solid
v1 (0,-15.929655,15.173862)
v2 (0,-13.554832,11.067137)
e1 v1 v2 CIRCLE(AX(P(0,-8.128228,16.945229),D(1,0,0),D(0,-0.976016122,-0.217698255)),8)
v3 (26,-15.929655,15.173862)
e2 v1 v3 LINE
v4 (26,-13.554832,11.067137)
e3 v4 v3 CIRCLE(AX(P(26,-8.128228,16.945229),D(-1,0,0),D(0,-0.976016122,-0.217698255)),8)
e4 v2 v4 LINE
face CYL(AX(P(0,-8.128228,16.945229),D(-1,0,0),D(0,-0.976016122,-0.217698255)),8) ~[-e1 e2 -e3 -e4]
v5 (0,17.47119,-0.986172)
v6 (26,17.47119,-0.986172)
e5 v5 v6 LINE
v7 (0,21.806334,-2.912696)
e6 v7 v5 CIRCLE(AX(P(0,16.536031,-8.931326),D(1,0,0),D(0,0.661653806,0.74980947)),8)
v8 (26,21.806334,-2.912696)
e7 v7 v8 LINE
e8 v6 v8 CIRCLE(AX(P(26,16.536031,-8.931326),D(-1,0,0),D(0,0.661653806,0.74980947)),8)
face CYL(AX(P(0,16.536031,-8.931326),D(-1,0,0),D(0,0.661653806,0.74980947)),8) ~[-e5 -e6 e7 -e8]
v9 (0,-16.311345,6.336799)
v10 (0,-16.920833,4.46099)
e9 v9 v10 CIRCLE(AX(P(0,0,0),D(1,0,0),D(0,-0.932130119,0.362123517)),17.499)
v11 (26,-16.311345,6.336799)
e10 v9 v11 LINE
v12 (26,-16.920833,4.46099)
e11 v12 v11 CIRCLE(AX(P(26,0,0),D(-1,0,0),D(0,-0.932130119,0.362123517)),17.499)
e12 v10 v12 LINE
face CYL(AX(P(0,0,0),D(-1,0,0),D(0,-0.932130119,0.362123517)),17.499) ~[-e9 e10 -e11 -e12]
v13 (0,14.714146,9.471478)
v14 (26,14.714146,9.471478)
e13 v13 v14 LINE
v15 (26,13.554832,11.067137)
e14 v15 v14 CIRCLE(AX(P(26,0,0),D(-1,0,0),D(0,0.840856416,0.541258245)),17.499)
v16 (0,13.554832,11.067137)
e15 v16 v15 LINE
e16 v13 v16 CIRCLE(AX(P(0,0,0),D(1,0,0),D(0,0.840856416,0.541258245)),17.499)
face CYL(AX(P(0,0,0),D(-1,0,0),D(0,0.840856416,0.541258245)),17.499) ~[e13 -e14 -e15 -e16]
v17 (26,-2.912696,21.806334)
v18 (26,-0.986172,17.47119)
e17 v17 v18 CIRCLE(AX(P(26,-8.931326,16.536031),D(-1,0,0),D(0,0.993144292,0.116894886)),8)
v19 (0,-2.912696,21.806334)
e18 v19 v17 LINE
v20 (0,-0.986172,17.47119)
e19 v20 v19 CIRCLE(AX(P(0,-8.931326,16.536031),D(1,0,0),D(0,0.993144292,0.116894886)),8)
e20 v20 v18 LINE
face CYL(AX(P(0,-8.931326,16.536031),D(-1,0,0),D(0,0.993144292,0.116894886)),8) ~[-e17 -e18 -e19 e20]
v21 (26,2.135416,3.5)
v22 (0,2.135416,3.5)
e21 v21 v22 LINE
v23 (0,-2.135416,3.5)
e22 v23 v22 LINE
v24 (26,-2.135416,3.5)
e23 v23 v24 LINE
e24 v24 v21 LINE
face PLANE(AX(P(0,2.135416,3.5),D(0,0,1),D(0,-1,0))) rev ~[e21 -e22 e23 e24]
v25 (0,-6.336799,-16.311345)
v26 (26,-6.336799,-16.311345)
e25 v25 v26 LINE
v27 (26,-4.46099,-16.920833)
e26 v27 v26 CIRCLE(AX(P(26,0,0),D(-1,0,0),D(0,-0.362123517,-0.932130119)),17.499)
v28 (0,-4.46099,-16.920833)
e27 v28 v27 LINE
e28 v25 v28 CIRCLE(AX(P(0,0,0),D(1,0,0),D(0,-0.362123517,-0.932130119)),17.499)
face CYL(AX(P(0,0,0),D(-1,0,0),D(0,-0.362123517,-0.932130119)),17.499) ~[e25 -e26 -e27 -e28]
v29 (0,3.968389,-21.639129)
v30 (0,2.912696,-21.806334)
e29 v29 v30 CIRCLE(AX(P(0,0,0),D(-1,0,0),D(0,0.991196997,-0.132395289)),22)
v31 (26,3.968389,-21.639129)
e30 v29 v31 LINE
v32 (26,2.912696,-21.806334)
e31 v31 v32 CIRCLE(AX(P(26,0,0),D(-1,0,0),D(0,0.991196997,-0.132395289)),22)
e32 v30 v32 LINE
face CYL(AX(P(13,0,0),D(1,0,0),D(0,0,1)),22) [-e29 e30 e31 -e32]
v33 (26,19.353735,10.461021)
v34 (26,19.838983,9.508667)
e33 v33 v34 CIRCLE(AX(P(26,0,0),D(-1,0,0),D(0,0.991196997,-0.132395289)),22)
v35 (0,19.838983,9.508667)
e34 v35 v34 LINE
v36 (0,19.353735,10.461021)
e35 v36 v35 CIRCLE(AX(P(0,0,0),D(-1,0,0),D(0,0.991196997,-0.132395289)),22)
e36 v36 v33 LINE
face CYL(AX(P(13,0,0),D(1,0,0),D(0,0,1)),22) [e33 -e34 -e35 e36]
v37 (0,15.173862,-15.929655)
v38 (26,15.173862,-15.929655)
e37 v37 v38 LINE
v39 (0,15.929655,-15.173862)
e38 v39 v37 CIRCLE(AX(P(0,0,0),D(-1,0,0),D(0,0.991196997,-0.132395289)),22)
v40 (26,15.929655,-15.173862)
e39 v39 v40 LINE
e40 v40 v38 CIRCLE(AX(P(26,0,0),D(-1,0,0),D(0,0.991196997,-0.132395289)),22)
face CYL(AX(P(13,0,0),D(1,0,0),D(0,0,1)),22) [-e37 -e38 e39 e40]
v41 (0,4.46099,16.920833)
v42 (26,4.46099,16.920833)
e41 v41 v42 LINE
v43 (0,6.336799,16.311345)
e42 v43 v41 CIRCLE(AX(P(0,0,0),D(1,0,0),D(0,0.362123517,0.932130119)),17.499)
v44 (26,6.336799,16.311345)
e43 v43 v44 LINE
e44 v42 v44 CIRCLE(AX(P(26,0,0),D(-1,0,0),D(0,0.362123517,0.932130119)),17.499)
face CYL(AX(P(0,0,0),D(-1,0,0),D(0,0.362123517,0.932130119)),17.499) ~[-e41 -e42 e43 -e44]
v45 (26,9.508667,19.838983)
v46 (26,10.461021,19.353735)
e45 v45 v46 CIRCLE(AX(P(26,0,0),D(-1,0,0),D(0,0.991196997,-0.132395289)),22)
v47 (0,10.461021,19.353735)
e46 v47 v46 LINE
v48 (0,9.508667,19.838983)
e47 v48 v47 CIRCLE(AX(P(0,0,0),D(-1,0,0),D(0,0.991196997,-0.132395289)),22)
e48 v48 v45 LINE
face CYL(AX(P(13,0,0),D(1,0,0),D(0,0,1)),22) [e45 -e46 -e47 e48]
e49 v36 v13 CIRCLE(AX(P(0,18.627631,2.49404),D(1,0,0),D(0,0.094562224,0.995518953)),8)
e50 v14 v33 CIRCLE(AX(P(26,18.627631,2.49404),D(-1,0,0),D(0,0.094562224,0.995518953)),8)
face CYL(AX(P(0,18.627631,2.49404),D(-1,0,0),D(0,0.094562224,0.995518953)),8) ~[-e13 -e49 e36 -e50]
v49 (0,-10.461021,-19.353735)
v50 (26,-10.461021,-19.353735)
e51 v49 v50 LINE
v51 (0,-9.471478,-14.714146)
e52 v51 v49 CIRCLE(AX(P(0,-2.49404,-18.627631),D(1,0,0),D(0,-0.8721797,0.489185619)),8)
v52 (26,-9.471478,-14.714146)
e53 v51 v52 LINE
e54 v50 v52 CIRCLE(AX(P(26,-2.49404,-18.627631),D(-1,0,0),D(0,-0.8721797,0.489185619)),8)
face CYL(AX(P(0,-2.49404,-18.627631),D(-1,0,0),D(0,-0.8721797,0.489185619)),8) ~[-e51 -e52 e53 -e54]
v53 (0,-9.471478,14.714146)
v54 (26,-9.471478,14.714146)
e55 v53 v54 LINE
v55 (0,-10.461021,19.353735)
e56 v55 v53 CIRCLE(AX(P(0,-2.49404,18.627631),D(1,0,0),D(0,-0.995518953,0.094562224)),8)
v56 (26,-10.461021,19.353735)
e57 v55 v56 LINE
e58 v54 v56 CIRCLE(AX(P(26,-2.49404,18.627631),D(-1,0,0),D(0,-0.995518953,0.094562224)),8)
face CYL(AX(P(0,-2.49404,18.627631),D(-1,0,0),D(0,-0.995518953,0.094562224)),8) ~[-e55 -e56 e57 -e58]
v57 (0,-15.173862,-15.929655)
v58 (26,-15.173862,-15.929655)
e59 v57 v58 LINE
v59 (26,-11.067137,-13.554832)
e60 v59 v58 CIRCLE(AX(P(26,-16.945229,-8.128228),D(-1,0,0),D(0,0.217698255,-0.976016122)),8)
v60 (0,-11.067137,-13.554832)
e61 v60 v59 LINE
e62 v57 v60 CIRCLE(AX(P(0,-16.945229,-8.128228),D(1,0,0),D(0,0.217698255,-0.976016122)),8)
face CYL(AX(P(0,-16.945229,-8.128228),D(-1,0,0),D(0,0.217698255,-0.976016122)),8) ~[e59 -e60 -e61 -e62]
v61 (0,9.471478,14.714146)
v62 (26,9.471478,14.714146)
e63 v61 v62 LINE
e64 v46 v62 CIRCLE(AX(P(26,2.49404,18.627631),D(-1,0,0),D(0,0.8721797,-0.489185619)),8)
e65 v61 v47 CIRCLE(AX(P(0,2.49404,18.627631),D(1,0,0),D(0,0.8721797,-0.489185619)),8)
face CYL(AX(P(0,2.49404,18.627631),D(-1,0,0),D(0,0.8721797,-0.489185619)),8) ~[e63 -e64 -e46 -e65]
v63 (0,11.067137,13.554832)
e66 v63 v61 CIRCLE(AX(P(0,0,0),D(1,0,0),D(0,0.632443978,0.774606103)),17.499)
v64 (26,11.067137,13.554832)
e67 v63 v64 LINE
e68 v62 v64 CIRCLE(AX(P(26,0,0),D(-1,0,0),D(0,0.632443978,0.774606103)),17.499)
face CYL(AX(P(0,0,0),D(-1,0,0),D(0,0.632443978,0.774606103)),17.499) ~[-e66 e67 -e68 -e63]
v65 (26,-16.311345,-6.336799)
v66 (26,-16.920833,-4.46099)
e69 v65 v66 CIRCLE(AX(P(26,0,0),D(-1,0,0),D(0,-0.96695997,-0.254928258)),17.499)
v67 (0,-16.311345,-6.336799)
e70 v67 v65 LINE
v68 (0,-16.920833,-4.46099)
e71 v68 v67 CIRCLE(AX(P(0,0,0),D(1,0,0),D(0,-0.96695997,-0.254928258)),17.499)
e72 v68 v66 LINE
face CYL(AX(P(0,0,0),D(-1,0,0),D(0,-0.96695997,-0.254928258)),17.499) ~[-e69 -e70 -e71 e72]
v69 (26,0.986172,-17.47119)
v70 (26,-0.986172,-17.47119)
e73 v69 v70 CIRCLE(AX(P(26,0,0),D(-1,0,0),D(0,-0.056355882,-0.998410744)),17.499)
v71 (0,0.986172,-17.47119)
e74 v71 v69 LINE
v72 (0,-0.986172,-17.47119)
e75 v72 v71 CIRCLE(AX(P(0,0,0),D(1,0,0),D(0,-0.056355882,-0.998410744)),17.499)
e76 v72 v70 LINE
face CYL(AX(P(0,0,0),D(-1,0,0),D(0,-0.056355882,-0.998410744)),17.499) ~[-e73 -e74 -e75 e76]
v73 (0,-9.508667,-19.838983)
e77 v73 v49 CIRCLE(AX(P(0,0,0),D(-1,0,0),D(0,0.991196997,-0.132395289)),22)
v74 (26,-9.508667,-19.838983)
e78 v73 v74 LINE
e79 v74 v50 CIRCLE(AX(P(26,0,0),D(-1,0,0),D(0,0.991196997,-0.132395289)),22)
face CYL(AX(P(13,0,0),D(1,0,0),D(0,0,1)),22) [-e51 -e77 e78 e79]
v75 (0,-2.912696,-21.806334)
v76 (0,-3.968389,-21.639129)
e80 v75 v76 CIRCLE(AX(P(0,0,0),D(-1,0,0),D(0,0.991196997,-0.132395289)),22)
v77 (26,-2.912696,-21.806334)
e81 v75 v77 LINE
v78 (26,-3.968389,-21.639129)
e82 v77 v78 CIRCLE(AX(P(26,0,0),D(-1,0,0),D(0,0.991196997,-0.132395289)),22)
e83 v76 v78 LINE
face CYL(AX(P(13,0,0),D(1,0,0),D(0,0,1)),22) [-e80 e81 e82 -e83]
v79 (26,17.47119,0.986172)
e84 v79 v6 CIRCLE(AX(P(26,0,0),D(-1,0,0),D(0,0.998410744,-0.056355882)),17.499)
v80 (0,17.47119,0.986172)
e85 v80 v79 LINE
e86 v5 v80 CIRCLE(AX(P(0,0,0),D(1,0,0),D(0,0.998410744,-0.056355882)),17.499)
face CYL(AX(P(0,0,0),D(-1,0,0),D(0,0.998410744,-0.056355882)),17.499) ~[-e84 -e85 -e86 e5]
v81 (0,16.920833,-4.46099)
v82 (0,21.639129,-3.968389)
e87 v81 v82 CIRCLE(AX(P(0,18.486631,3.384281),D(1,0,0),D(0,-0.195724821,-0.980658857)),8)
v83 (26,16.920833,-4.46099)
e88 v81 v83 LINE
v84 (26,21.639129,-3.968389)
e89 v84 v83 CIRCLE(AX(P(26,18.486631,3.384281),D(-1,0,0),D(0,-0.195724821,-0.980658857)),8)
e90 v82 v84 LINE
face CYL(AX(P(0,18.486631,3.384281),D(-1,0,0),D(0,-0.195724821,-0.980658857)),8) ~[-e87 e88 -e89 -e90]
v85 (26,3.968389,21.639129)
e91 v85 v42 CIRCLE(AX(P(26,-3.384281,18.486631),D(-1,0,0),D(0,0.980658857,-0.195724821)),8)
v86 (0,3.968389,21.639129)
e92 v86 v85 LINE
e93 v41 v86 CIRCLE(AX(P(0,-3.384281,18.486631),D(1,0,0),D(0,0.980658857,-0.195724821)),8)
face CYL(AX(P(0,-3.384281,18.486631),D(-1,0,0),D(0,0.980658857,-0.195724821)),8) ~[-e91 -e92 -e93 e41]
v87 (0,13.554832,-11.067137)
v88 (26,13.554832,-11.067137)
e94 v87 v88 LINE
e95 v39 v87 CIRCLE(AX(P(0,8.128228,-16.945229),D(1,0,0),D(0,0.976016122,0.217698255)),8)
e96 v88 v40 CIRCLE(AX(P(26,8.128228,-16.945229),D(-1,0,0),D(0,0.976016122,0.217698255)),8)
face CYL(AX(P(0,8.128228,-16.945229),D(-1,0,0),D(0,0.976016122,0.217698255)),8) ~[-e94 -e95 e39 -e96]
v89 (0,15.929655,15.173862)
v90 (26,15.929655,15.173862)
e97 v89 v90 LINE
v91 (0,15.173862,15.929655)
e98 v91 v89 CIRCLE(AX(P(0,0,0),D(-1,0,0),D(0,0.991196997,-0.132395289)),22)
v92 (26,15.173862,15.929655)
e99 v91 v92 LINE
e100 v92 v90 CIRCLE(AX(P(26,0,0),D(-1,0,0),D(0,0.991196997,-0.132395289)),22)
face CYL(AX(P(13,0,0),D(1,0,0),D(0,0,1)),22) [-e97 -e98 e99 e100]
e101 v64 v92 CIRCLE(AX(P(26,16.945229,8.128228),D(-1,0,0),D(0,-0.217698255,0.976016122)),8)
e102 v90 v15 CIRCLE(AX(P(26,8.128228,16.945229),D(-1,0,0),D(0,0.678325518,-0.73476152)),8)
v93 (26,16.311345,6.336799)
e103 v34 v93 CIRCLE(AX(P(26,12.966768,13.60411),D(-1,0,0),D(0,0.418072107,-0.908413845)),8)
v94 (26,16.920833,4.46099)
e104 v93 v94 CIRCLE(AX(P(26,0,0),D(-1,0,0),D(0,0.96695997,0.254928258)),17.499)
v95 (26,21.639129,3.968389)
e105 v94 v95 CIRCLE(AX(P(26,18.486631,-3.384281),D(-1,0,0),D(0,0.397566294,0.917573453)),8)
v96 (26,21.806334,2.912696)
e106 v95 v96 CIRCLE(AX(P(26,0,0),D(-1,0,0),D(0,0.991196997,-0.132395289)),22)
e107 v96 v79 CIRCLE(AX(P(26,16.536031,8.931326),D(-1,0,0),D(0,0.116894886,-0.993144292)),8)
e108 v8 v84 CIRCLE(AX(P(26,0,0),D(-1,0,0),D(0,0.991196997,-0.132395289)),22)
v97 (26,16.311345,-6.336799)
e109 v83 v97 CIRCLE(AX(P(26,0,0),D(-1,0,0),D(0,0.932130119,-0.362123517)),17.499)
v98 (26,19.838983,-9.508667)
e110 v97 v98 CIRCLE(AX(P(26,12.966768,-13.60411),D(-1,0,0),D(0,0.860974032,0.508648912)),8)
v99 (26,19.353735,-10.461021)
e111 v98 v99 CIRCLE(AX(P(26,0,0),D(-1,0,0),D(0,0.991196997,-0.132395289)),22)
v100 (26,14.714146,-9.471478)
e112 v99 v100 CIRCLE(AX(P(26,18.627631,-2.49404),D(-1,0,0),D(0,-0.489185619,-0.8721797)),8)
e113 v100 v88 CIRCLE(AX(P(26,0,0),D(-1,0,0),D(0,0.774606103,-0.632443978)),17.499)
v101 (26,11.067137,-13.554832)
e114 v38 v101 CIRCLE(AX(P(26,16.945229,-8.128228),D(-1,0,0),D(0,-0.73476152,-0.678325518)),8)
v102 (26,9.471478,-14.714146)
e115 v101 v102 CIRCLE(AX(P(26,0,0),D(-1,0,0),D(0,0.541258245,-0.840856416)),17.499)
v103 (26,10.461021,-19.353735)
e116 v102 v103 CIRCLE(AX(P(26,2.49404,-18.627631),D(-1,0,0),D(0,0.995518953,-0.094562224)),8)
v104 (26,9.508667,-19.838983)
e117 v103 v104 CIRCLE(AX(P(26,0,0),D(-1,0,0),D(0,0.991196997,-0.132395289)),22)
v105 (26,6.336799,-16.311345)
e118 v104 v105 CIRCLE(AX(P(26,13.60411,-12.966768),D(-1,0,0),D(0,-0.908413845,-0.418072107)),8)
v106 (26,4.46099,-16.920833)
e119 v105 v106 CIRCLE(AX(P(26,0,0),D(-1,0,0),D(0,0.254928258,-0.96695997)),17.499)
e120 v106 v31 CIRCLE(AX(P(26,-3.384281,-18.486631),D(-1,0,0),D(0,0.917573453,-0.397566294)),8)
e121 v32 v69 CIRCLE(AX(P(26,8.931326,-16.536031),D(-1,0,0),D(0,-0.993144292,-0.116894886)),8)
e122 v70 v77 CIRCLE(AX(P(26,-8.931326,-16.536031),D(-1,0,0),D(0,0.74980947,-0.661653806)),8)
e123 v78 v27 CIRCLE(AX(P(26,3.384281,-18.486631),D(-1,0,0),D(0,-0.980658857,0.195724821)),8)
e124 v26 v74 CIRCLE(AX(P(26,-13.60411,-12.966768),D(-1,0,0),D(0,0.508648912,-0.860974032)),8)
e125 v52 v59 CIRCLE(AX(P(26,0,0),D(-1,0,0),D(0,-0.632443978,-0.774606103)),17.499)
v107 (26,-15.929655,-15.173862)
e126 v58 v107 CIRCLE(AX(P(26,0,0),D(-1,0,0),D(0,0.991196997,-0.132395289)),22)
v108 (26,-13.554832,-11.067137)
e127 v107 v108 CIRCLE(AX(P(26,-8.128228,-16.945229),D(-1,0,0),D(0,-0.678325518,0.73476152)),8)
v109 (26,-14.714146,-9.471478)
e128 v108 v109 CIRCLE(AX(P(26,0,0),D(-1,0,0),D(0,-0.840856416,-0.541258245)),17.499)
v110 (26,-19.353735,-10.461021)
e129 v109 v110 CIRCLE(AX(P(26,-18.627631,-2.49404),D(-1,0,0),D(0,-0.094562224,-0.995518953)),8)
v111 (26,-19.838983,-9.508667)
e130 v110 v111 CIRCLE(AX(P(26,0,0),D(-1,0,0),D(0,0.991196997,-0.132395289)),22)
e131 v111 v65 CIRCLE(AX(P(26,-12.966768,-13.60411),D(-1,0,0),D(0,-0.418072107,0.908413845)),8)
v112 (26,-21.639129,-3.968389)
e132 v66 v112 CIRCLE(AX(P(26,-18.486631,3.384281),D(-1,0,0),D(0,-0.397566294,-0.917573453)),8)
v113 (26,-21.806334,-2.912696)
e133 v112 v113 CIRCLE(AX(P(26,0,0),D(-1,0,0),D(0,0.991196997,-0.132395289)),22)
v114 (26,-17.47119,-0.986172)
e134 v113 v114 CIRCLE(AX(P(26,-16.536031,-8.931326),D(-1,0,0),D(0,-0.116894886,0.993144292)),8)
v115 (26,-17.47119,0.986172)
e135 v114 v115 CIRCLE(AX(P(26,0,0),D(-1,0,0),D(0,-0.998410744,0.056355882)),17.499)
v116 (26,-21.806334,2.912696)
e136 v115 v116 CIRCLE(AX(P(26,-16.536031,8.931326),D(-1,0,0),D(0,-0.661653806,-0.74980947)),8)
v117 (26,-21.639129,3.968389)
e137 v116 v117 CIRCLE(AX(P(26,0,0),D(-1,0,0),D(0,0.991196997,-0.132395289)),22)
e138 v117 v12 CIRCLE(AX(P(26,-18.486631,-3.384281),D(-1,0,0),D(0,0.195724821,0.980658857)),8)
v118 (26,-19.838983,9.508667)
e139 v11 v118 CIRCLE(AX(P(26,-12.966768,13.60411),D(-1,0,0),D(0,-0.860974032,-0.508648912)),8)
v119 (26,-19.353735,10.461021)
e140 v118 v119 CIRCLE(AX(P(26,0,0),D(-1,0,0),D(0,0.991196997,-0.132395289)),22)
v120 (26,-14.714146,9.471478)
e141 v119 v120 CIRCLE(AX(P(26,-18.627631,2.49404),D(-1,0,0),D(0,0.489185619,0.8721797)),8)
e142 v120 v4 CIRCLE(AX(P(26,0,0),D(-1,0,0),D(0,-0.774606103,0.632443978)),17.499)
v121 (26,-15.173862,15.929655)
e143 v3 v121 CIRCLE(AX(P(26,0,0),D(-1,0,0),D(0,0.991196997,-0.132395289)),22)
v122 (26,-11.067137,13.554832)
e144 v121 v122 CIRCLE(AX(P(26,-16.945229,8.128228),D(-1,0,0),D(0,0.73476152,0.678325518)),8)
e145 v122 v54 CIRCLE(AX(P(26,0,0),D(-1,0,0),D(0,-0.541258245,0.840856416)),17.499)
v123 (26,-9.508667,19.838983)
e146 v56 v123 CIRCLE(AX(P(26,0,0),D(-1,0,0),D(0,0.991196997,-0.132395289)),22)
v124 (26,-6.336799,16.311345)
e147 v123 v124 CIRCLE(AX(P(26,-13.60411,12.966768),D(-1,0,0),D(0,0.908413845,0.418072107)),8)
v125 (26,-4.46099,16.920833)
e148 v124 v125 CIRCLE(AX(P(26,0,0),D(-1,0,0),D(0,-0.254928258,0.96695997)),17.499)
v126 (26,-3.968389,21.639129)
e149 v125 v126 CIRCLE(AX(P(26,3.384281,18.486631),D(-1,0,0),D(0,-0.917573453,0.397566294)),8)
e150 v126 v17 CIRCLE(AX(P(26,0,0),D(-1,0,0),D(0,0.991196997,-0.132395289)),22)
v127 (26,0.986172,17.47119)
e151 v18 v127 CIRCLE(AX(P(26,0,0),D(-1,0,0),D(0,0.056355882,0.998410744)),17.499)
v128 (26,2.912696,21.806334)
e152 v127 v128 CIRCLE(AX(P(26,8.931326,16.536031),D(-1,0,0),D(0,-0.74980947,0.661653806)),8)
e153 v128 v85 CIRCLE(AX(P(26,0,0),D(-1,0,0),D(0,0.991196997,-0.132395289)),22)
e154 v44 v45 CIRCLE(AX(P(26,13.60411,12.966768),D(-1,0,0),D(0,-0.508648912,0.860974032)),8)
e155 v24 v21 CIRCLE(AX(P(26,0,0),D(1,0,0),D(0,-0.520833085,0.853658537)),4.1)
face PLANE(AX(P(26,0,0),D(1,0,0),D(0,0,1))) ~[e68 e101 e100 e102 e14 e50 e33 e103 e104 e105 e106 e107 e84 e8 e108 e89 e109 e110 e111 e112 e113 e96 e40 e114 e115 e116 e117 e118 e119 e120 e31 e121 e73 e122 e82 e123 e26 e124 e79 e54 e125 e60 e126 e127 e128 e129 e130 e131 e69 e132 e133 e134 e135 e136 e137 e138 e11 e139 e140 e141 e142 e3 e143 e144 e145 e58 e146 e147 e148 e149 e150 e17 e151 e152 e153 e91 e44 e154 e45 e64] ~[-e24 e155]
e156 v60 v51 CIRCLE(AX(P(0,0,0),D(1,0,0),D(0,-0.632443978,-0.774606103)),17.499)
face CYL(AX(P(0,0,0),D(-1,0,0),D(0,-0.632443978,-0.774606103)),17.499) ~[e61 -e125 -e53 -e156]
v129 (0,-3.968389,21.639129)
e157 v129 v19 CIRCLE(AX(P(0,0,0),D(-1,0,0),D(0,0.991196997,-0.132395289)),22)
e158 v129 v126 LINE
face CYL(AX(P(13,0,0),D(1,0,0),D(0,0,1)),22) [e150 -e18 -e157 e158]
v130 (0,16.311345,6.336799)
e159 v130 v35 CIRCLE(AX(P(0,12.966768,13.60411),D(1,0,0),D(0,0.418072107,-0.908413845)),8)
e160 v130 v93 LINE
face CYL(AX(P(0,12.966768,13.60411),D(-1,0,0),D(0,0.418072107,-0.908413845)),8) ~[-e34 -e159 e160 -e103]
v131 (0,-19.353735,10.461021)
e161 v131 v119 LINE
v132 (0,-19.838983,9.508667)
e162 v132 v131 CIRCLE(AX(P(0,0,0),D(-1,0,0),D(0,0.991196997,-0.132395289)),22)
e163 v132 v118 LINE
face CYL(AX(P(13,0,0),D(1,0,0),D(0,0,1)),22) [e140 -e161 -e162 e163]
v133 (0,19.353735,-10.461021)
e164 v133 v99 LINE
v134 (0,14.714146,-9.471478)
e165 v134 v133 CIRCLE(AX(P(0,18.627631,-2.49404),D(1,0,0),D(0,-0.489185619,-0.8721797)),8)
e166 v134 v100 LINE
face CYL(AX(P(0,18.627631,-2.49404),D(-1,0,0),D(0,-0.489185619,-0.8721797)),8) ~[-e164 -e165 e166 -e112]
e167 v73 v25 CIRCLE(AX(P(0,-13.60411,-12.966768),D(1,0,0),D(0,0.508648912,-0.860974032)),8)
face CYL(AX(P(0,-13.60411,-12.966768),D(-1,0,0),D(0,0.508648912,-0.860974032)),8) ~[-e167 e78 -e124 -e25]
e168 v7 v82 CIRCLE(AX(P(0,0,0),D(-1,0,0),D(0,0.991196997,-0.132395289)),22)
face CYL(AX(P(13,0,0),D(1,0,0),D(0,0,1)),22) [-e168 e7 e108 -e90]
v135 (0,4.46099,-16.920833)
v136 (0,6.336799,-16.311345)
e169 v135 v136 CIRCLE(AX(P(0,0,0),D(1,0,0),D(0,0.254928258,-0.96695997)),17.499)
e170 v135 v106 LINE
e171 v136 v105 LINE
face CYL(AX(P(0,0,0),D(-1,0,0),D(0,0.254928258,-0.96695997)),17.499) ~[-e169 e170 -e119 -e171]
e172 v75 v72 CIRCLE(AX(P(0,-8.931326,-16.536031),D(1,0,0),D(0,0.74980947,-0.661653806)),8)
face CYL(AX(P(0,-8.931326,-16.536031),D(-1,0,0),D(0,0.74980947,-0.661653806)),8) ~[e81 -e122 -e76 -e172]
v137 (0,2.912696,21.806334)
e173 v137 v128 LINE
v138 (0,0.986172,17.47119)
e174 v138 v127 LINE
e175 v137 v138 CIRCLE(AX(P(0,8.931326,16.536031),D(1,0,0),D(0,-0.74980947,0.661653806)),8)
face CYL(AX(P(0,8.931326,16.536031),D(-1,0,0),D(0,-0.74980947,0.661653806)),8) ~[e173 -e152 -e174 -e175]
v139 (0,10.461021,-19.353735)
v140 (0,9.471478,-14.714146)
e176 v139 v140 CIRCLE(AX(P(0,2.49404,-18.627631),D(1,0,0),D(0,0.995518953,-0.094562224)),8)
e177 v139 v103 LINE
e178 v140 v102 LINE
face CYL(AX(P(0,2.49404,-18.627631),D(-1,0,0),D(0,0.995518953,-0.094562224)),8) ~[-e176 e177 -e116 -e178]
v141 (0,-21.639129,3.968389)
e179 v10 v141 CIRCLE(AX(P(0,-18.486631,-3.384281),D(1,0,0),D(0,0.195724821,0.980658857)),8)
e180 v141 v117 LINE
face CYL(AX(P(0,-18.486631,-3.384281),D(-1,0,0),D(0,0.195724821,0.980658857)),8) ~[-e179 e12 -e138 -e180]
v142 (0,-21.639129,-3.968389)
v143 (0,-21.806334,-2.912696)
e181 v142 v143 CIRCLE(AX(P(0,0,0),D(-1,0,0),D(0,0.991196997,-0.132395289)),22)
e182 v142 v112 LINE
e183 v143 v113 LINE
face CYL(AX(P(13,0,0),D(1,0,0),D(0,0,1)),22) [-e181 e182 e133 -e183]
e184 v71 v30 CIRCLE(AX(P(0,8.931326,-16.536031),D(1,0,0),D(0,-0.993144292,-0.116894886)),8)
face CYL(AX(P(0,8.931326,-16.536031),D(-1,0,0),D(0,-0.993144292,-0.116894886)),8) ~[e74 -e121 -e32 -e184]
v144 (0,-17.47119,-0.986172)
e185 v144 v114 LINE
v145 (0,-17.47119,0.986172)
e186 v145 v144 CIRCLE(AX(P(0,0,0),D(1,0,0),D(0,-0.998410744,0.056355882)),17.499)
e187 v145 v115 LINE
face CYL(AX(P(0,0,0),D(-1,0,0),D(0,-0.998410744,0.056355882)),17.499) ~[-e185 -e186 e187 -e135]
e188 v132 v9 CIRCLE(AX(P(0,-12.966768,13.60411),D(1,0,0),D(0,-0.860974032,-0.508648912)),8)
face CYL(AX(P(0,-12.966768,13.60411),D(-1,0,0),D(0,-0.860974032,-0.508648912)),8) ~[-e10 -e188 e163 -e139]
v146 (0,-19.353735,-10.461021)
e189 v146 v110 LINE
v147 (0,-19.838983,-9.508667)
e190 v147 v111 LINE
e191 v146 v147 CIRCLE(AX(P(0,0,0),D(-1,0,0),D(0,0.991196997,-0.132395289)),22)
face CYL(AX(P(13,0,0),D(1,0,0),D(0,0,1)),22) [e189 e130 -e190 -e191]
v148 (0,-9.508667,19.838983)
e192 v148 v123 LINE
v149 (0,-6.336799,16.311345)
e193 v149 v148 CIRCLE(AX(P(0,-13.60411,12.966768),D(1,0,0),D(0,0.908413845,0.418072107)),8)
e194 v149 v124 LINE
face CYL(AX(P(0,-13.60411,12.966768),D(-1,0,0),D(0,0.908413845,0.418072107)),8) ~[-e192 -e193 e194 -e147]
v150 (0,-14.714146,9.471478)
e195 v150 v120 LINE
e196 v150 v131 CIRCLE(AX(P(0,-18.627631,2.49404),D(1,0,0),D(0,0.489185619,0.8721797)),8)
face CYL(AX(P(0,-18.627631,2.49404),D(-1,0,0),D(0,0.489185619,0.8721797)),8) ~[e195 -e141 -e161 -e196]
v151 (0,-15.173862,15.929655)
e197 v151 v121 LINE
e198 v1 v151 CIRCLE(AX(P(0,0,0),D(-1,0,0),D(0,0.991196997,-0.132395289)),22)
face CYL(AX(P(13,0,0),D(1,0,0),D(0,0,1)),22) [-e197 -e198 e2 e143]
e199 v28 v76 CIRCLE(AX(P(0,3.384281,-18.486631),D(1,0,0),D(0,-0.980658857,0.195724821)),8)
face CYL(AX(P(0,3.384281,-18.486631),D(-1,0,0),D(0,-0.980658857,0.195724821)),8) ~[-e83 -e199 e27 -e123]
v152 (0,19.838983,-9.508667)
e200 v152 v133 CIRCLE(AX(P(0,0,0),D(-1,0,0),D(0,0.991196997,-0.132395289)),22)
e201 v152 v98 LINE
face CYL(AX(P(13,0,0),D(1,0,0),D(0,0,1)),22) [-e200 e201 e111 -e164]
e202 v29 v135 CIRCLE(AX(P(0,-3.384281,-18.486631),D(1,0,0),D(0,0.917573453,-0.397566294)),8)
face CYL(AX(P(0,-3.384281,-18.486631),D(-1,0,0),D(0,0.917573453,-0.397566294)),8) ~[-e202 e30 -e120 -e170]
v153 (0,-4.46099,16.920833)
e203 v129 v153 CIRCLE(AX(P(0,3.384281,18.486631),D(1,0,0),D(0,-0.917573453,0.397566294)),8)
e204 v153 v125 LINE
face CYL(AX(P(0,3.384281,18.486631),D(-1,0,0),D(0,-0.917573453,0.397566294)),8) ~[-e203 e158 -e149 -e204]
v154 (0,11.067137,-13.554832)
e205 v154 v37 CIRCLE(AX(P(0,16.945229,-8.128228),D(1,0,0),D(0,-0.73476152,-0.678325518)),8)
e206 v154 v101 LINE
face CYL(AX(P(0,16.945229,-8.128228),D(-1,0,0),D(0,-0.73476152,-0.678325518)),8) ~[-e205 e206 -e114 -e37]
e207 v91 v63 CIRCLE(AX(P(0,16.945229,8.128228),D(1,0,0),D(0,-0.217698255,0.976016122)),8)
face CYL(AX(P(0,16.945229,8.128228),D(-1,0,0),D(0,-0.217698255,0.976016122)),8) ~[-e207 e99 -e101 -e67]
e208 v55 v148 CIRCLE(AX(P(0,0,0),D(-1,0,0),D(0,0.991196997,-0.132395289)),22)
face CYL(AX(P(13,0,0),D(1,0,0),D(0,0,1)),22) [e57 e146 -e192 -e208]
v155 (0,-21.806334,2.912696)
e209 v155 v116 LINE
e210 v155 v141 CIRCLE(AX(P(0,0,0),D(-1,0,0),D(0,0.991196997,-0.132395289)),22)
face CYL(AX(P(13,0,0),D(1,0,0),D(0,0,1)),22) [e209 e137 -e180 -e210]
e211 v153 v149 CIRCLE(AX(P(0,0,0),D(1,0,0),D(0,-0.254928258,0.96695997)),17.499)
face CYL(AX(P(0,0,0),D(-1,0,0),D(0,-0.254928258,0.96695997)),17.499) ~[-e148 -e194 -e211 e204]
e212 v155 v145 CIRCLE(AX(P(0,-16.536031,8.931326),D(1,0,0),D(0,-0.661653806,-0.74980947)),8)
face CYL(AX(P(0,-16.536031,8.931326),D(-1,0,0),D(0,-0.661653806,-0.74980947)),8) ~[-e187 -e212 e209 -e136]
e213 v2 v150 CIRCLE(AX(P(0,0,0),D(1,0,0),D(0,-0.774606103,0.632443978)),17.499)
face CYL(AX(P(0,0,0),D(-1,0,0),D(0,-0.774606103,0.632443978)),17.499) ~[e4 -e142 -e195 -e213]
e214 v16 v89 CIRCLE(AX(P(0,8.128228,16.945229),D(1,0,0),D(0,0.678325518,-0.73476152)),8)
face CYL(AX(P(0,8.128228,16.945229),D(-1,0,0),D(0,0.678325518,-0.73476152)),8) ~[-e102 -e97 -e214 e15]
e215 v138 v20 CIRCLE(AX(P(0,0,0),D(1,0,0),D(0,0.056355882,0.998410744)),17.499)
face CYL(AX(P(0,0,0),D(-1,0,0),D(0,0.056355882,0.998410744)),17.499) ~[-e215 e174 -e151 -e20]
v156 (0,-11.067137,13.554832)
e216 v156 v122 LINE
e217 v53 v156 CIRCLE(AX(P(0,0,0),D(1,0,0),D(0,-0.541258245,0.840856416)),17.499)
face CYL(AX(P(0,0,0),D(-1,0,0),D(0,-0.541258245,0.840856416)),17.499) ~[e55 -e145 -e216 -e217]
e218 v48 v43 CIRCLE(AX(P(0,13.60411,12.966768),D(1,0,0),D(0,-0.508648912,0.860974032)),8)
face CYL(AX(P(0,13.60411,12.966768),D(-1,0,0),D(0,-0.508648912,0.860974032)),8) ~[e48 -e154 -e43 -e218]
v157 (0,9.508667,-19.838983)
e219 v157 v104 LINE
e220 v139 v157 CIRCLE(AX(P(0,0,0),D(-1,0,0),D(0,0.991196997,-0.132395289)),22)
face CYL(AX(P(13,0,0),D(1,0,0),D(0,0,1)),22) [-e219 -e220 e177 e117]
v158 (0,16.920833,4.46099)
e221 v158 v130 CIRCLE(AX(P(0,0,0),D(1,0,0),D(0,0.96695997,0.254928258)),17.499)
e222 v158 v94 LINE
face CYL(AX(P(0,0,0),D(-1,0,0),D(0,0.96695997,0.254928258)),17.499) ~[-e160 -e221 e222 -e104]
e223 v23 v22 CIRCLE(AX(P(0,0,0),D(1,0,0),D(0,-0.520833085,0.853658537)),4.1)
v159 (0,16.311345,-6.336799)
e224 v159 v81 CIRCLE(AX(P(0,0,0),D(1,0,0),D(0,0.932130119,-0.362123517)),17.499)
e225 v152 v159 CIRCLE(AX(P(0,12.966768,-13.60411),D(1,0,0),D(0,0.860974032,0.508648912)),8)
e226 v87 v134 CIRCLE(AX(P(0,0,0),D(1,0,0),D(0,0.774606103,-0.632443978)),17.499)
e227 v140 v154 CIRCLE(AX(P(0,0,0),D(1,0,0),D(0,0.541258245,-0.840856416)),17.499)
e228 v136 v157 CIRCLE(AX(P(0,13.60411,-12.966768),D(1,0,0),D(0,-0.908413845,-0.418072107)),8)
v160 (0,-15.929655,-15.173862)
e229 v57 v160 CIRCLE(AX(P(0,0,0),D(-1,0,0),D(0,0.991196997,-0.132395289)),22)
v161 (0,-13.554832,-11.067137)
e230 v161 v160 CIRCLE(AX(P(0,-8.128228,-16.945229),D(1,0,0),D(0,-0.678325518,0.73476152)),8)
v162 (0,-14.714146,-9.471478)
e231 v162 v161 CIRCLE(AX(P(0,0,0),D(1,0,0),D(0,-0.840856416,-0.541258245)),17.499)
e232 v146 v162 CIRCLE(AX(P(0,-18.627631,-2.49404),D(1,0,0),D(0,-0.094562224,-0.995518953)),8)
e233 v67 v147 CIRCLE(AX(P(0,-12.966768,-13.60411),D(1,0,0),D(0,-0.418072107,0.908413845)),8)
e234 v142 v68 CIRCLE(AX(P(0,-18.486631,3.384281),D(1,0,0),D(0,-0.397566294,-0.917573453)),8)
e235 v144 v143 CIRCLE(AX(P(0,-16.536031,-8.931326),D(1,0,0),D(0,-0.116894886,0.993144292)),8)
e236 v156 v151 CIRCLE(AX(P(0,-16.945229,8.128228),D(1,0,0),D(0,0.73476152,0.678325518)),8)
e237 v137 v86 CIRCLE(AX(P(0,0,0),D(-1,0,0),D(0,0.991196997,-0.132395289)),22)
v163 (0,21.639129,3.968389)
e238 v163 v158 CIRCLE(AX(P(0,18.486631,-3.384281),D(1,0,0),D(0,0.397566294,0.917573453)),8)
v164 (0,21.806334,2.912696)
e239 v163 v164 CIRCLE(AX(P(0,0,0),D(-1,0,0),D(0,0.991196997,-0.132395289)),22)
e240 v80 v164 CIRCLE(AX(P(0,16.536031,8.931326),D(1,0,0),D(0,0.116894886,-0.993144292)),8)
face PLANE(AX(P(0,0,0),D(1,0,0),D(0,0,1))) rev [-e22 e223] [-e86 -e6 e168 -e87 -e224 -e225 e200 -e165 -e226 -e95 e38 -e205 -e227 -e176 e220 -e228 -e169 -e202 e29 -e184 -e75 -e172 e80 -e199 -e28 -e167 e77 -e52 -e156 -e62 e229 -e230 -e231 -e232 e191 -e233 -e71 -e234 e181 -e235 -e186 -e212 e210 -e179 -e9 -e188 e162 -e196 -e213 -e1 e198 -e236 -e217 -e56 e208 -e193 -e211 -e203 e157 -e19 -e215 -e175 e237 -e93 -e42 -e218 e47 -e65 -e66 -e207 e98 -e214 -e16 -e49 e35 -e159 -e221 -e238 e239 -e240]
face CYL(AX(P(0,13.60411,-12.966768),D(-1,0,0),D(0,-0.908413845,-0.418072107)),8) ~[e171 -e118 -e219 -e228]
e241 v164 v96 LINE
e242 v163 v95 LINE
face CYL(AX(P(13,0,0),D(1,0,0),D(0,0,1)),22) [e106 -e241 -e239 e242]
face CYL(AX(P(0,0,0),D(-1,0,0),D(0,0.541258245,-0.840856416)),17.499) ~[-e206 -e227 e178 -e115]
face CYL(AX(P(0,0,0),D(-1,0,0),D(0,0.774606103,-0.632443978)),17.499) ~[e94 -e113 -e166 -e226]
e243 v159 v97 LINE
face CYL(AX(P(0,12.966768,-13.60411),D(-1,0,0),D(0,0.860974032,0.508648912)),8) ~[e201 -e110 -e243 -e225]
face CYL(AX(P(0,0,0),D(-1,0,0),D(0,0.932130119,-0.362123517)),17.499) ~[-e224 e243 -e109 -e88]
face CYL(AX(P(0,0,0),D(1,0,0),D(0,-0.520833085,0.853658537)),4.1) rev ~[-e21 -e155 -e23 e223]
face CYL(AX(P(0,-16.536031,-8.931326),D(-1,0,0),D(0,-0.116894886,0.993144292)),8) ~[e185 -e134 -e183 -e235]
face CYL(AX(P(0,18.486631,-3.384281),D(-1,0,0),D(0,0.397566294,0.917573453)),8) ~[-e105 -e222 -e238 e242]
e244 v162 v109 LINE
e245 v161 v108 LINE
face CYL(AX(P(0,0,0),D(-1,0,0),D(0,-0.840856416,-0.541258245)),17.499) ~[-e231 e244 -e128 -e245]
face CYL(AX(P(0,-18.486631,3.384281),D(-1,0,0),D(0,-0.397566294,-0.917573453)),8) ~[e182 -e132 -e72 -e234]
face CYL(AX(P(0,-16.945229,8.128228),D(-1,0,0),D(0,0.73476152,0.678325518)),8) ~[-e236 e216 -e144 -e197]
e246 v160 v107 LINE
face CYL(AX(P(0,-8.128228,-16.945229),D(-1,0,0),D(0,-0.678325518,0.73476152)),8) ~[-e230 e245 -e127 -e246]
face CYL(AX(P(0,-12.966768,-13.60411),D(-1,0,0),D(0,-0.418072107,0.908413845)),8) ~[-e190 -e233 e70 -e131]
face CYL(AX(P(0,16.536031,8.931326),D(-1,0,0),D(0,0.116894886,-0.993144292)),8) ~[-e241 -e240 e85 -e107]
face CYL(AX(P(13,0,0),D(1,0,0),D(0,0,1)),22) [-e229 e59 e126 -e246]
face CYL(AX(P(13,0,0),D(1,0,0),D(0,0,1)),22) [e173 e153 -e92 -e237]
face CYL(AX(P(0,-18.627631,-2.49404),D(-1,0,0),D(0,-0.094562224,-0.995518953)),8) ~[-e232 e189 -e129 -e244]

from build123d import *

# Parameters (mm, degrees)
BASPROSKE_W     = 26
BASPROSKE_H     = 22
TOOTHCUT_DEPTH  = 41.546269865
TEETHCUTS_COUNT = 20
TEETHCUTS_ANGLE = 342
BORE_DEPTH      = 50.0000508


with BuildPart() as part:
    # BasProSke → Base-Revolve (revolve)
    with BuildSketch(Plane(origin=(0, 0, 0), x_dir=(1, 0, 0), z_dir=(0, 1, 0)), mode=Mode.PRIVATE) as base_revolve_sk:
        with Locations((13, 11)):
            Rectangle(BASPROSKE_W, BASPROSKE_H)
    revolve(base_revolve_sk.sketch.rotate(Axis((-10, 0, 0), (1, 0, 0)), 180), axis=Axis((-10, 0, 0), (1, 0, 0)))

    # TooCutSke → ToothCut (cut, through all)
    with BuildSketch(Plane(origin=(0, 0, 0), x_dir=(0, 0, -1), z_dir=(1, 0, 0))):
        with BuildLine():
            ThreePointArc((0.986171591, 17.471189616), (0, 17.499), (-0.986171591, 17.471189616))
            ThreePointArc((-0.986171591, 17.471189616), (-1.626916196, 19.798789858), (-2.932850173, 21.829260982))
            ThreePointArc((-2.932850173, 21.829260982), (0, 22.0254), (2.932850173, 21.829260982))
            ThreePointArc((2.932850173, 21.829260982), (1.626916196, 19.798789858), (0.986171591, 17.471189616))
        make_face()
    toothcut = extrude(amount=TOOTHCUT_DEPTH, mode=Mode.SUBTRACT)

    # TeethCuts: ToothCut ×20 about axis
    teethcuts_axis = Axis((-10, 0, 0), (1, 0, 0))
    for i in range(1, TEETHCUTS_COUNT):
        add(toothcut.rotate(teethcuts_axis, i * TEETHCUTS_ANGLE / (TEETHCUTS_COUNT - 1)), mode=Mode.SUBTRACT)

    # BorSke → Bore (cut, symmetric)
    with BuildSketch(Plane(origin=(0, 0, 0), x_dir=(0, 0, -1), z_dir=(1, 0, 0))):
        with BuildLine():
            Line((-3.5, 2.13541565), (-3.5, -2.13541565))
            ThreePointArc((-3.5, -2.13541565), (4.1, 0), (-3.5, 2.13541565))
        make_face()
    extrude(amount=BORE_DEPTH, both=True, mode=Mode.SUBTRACT)


solid = part.part
